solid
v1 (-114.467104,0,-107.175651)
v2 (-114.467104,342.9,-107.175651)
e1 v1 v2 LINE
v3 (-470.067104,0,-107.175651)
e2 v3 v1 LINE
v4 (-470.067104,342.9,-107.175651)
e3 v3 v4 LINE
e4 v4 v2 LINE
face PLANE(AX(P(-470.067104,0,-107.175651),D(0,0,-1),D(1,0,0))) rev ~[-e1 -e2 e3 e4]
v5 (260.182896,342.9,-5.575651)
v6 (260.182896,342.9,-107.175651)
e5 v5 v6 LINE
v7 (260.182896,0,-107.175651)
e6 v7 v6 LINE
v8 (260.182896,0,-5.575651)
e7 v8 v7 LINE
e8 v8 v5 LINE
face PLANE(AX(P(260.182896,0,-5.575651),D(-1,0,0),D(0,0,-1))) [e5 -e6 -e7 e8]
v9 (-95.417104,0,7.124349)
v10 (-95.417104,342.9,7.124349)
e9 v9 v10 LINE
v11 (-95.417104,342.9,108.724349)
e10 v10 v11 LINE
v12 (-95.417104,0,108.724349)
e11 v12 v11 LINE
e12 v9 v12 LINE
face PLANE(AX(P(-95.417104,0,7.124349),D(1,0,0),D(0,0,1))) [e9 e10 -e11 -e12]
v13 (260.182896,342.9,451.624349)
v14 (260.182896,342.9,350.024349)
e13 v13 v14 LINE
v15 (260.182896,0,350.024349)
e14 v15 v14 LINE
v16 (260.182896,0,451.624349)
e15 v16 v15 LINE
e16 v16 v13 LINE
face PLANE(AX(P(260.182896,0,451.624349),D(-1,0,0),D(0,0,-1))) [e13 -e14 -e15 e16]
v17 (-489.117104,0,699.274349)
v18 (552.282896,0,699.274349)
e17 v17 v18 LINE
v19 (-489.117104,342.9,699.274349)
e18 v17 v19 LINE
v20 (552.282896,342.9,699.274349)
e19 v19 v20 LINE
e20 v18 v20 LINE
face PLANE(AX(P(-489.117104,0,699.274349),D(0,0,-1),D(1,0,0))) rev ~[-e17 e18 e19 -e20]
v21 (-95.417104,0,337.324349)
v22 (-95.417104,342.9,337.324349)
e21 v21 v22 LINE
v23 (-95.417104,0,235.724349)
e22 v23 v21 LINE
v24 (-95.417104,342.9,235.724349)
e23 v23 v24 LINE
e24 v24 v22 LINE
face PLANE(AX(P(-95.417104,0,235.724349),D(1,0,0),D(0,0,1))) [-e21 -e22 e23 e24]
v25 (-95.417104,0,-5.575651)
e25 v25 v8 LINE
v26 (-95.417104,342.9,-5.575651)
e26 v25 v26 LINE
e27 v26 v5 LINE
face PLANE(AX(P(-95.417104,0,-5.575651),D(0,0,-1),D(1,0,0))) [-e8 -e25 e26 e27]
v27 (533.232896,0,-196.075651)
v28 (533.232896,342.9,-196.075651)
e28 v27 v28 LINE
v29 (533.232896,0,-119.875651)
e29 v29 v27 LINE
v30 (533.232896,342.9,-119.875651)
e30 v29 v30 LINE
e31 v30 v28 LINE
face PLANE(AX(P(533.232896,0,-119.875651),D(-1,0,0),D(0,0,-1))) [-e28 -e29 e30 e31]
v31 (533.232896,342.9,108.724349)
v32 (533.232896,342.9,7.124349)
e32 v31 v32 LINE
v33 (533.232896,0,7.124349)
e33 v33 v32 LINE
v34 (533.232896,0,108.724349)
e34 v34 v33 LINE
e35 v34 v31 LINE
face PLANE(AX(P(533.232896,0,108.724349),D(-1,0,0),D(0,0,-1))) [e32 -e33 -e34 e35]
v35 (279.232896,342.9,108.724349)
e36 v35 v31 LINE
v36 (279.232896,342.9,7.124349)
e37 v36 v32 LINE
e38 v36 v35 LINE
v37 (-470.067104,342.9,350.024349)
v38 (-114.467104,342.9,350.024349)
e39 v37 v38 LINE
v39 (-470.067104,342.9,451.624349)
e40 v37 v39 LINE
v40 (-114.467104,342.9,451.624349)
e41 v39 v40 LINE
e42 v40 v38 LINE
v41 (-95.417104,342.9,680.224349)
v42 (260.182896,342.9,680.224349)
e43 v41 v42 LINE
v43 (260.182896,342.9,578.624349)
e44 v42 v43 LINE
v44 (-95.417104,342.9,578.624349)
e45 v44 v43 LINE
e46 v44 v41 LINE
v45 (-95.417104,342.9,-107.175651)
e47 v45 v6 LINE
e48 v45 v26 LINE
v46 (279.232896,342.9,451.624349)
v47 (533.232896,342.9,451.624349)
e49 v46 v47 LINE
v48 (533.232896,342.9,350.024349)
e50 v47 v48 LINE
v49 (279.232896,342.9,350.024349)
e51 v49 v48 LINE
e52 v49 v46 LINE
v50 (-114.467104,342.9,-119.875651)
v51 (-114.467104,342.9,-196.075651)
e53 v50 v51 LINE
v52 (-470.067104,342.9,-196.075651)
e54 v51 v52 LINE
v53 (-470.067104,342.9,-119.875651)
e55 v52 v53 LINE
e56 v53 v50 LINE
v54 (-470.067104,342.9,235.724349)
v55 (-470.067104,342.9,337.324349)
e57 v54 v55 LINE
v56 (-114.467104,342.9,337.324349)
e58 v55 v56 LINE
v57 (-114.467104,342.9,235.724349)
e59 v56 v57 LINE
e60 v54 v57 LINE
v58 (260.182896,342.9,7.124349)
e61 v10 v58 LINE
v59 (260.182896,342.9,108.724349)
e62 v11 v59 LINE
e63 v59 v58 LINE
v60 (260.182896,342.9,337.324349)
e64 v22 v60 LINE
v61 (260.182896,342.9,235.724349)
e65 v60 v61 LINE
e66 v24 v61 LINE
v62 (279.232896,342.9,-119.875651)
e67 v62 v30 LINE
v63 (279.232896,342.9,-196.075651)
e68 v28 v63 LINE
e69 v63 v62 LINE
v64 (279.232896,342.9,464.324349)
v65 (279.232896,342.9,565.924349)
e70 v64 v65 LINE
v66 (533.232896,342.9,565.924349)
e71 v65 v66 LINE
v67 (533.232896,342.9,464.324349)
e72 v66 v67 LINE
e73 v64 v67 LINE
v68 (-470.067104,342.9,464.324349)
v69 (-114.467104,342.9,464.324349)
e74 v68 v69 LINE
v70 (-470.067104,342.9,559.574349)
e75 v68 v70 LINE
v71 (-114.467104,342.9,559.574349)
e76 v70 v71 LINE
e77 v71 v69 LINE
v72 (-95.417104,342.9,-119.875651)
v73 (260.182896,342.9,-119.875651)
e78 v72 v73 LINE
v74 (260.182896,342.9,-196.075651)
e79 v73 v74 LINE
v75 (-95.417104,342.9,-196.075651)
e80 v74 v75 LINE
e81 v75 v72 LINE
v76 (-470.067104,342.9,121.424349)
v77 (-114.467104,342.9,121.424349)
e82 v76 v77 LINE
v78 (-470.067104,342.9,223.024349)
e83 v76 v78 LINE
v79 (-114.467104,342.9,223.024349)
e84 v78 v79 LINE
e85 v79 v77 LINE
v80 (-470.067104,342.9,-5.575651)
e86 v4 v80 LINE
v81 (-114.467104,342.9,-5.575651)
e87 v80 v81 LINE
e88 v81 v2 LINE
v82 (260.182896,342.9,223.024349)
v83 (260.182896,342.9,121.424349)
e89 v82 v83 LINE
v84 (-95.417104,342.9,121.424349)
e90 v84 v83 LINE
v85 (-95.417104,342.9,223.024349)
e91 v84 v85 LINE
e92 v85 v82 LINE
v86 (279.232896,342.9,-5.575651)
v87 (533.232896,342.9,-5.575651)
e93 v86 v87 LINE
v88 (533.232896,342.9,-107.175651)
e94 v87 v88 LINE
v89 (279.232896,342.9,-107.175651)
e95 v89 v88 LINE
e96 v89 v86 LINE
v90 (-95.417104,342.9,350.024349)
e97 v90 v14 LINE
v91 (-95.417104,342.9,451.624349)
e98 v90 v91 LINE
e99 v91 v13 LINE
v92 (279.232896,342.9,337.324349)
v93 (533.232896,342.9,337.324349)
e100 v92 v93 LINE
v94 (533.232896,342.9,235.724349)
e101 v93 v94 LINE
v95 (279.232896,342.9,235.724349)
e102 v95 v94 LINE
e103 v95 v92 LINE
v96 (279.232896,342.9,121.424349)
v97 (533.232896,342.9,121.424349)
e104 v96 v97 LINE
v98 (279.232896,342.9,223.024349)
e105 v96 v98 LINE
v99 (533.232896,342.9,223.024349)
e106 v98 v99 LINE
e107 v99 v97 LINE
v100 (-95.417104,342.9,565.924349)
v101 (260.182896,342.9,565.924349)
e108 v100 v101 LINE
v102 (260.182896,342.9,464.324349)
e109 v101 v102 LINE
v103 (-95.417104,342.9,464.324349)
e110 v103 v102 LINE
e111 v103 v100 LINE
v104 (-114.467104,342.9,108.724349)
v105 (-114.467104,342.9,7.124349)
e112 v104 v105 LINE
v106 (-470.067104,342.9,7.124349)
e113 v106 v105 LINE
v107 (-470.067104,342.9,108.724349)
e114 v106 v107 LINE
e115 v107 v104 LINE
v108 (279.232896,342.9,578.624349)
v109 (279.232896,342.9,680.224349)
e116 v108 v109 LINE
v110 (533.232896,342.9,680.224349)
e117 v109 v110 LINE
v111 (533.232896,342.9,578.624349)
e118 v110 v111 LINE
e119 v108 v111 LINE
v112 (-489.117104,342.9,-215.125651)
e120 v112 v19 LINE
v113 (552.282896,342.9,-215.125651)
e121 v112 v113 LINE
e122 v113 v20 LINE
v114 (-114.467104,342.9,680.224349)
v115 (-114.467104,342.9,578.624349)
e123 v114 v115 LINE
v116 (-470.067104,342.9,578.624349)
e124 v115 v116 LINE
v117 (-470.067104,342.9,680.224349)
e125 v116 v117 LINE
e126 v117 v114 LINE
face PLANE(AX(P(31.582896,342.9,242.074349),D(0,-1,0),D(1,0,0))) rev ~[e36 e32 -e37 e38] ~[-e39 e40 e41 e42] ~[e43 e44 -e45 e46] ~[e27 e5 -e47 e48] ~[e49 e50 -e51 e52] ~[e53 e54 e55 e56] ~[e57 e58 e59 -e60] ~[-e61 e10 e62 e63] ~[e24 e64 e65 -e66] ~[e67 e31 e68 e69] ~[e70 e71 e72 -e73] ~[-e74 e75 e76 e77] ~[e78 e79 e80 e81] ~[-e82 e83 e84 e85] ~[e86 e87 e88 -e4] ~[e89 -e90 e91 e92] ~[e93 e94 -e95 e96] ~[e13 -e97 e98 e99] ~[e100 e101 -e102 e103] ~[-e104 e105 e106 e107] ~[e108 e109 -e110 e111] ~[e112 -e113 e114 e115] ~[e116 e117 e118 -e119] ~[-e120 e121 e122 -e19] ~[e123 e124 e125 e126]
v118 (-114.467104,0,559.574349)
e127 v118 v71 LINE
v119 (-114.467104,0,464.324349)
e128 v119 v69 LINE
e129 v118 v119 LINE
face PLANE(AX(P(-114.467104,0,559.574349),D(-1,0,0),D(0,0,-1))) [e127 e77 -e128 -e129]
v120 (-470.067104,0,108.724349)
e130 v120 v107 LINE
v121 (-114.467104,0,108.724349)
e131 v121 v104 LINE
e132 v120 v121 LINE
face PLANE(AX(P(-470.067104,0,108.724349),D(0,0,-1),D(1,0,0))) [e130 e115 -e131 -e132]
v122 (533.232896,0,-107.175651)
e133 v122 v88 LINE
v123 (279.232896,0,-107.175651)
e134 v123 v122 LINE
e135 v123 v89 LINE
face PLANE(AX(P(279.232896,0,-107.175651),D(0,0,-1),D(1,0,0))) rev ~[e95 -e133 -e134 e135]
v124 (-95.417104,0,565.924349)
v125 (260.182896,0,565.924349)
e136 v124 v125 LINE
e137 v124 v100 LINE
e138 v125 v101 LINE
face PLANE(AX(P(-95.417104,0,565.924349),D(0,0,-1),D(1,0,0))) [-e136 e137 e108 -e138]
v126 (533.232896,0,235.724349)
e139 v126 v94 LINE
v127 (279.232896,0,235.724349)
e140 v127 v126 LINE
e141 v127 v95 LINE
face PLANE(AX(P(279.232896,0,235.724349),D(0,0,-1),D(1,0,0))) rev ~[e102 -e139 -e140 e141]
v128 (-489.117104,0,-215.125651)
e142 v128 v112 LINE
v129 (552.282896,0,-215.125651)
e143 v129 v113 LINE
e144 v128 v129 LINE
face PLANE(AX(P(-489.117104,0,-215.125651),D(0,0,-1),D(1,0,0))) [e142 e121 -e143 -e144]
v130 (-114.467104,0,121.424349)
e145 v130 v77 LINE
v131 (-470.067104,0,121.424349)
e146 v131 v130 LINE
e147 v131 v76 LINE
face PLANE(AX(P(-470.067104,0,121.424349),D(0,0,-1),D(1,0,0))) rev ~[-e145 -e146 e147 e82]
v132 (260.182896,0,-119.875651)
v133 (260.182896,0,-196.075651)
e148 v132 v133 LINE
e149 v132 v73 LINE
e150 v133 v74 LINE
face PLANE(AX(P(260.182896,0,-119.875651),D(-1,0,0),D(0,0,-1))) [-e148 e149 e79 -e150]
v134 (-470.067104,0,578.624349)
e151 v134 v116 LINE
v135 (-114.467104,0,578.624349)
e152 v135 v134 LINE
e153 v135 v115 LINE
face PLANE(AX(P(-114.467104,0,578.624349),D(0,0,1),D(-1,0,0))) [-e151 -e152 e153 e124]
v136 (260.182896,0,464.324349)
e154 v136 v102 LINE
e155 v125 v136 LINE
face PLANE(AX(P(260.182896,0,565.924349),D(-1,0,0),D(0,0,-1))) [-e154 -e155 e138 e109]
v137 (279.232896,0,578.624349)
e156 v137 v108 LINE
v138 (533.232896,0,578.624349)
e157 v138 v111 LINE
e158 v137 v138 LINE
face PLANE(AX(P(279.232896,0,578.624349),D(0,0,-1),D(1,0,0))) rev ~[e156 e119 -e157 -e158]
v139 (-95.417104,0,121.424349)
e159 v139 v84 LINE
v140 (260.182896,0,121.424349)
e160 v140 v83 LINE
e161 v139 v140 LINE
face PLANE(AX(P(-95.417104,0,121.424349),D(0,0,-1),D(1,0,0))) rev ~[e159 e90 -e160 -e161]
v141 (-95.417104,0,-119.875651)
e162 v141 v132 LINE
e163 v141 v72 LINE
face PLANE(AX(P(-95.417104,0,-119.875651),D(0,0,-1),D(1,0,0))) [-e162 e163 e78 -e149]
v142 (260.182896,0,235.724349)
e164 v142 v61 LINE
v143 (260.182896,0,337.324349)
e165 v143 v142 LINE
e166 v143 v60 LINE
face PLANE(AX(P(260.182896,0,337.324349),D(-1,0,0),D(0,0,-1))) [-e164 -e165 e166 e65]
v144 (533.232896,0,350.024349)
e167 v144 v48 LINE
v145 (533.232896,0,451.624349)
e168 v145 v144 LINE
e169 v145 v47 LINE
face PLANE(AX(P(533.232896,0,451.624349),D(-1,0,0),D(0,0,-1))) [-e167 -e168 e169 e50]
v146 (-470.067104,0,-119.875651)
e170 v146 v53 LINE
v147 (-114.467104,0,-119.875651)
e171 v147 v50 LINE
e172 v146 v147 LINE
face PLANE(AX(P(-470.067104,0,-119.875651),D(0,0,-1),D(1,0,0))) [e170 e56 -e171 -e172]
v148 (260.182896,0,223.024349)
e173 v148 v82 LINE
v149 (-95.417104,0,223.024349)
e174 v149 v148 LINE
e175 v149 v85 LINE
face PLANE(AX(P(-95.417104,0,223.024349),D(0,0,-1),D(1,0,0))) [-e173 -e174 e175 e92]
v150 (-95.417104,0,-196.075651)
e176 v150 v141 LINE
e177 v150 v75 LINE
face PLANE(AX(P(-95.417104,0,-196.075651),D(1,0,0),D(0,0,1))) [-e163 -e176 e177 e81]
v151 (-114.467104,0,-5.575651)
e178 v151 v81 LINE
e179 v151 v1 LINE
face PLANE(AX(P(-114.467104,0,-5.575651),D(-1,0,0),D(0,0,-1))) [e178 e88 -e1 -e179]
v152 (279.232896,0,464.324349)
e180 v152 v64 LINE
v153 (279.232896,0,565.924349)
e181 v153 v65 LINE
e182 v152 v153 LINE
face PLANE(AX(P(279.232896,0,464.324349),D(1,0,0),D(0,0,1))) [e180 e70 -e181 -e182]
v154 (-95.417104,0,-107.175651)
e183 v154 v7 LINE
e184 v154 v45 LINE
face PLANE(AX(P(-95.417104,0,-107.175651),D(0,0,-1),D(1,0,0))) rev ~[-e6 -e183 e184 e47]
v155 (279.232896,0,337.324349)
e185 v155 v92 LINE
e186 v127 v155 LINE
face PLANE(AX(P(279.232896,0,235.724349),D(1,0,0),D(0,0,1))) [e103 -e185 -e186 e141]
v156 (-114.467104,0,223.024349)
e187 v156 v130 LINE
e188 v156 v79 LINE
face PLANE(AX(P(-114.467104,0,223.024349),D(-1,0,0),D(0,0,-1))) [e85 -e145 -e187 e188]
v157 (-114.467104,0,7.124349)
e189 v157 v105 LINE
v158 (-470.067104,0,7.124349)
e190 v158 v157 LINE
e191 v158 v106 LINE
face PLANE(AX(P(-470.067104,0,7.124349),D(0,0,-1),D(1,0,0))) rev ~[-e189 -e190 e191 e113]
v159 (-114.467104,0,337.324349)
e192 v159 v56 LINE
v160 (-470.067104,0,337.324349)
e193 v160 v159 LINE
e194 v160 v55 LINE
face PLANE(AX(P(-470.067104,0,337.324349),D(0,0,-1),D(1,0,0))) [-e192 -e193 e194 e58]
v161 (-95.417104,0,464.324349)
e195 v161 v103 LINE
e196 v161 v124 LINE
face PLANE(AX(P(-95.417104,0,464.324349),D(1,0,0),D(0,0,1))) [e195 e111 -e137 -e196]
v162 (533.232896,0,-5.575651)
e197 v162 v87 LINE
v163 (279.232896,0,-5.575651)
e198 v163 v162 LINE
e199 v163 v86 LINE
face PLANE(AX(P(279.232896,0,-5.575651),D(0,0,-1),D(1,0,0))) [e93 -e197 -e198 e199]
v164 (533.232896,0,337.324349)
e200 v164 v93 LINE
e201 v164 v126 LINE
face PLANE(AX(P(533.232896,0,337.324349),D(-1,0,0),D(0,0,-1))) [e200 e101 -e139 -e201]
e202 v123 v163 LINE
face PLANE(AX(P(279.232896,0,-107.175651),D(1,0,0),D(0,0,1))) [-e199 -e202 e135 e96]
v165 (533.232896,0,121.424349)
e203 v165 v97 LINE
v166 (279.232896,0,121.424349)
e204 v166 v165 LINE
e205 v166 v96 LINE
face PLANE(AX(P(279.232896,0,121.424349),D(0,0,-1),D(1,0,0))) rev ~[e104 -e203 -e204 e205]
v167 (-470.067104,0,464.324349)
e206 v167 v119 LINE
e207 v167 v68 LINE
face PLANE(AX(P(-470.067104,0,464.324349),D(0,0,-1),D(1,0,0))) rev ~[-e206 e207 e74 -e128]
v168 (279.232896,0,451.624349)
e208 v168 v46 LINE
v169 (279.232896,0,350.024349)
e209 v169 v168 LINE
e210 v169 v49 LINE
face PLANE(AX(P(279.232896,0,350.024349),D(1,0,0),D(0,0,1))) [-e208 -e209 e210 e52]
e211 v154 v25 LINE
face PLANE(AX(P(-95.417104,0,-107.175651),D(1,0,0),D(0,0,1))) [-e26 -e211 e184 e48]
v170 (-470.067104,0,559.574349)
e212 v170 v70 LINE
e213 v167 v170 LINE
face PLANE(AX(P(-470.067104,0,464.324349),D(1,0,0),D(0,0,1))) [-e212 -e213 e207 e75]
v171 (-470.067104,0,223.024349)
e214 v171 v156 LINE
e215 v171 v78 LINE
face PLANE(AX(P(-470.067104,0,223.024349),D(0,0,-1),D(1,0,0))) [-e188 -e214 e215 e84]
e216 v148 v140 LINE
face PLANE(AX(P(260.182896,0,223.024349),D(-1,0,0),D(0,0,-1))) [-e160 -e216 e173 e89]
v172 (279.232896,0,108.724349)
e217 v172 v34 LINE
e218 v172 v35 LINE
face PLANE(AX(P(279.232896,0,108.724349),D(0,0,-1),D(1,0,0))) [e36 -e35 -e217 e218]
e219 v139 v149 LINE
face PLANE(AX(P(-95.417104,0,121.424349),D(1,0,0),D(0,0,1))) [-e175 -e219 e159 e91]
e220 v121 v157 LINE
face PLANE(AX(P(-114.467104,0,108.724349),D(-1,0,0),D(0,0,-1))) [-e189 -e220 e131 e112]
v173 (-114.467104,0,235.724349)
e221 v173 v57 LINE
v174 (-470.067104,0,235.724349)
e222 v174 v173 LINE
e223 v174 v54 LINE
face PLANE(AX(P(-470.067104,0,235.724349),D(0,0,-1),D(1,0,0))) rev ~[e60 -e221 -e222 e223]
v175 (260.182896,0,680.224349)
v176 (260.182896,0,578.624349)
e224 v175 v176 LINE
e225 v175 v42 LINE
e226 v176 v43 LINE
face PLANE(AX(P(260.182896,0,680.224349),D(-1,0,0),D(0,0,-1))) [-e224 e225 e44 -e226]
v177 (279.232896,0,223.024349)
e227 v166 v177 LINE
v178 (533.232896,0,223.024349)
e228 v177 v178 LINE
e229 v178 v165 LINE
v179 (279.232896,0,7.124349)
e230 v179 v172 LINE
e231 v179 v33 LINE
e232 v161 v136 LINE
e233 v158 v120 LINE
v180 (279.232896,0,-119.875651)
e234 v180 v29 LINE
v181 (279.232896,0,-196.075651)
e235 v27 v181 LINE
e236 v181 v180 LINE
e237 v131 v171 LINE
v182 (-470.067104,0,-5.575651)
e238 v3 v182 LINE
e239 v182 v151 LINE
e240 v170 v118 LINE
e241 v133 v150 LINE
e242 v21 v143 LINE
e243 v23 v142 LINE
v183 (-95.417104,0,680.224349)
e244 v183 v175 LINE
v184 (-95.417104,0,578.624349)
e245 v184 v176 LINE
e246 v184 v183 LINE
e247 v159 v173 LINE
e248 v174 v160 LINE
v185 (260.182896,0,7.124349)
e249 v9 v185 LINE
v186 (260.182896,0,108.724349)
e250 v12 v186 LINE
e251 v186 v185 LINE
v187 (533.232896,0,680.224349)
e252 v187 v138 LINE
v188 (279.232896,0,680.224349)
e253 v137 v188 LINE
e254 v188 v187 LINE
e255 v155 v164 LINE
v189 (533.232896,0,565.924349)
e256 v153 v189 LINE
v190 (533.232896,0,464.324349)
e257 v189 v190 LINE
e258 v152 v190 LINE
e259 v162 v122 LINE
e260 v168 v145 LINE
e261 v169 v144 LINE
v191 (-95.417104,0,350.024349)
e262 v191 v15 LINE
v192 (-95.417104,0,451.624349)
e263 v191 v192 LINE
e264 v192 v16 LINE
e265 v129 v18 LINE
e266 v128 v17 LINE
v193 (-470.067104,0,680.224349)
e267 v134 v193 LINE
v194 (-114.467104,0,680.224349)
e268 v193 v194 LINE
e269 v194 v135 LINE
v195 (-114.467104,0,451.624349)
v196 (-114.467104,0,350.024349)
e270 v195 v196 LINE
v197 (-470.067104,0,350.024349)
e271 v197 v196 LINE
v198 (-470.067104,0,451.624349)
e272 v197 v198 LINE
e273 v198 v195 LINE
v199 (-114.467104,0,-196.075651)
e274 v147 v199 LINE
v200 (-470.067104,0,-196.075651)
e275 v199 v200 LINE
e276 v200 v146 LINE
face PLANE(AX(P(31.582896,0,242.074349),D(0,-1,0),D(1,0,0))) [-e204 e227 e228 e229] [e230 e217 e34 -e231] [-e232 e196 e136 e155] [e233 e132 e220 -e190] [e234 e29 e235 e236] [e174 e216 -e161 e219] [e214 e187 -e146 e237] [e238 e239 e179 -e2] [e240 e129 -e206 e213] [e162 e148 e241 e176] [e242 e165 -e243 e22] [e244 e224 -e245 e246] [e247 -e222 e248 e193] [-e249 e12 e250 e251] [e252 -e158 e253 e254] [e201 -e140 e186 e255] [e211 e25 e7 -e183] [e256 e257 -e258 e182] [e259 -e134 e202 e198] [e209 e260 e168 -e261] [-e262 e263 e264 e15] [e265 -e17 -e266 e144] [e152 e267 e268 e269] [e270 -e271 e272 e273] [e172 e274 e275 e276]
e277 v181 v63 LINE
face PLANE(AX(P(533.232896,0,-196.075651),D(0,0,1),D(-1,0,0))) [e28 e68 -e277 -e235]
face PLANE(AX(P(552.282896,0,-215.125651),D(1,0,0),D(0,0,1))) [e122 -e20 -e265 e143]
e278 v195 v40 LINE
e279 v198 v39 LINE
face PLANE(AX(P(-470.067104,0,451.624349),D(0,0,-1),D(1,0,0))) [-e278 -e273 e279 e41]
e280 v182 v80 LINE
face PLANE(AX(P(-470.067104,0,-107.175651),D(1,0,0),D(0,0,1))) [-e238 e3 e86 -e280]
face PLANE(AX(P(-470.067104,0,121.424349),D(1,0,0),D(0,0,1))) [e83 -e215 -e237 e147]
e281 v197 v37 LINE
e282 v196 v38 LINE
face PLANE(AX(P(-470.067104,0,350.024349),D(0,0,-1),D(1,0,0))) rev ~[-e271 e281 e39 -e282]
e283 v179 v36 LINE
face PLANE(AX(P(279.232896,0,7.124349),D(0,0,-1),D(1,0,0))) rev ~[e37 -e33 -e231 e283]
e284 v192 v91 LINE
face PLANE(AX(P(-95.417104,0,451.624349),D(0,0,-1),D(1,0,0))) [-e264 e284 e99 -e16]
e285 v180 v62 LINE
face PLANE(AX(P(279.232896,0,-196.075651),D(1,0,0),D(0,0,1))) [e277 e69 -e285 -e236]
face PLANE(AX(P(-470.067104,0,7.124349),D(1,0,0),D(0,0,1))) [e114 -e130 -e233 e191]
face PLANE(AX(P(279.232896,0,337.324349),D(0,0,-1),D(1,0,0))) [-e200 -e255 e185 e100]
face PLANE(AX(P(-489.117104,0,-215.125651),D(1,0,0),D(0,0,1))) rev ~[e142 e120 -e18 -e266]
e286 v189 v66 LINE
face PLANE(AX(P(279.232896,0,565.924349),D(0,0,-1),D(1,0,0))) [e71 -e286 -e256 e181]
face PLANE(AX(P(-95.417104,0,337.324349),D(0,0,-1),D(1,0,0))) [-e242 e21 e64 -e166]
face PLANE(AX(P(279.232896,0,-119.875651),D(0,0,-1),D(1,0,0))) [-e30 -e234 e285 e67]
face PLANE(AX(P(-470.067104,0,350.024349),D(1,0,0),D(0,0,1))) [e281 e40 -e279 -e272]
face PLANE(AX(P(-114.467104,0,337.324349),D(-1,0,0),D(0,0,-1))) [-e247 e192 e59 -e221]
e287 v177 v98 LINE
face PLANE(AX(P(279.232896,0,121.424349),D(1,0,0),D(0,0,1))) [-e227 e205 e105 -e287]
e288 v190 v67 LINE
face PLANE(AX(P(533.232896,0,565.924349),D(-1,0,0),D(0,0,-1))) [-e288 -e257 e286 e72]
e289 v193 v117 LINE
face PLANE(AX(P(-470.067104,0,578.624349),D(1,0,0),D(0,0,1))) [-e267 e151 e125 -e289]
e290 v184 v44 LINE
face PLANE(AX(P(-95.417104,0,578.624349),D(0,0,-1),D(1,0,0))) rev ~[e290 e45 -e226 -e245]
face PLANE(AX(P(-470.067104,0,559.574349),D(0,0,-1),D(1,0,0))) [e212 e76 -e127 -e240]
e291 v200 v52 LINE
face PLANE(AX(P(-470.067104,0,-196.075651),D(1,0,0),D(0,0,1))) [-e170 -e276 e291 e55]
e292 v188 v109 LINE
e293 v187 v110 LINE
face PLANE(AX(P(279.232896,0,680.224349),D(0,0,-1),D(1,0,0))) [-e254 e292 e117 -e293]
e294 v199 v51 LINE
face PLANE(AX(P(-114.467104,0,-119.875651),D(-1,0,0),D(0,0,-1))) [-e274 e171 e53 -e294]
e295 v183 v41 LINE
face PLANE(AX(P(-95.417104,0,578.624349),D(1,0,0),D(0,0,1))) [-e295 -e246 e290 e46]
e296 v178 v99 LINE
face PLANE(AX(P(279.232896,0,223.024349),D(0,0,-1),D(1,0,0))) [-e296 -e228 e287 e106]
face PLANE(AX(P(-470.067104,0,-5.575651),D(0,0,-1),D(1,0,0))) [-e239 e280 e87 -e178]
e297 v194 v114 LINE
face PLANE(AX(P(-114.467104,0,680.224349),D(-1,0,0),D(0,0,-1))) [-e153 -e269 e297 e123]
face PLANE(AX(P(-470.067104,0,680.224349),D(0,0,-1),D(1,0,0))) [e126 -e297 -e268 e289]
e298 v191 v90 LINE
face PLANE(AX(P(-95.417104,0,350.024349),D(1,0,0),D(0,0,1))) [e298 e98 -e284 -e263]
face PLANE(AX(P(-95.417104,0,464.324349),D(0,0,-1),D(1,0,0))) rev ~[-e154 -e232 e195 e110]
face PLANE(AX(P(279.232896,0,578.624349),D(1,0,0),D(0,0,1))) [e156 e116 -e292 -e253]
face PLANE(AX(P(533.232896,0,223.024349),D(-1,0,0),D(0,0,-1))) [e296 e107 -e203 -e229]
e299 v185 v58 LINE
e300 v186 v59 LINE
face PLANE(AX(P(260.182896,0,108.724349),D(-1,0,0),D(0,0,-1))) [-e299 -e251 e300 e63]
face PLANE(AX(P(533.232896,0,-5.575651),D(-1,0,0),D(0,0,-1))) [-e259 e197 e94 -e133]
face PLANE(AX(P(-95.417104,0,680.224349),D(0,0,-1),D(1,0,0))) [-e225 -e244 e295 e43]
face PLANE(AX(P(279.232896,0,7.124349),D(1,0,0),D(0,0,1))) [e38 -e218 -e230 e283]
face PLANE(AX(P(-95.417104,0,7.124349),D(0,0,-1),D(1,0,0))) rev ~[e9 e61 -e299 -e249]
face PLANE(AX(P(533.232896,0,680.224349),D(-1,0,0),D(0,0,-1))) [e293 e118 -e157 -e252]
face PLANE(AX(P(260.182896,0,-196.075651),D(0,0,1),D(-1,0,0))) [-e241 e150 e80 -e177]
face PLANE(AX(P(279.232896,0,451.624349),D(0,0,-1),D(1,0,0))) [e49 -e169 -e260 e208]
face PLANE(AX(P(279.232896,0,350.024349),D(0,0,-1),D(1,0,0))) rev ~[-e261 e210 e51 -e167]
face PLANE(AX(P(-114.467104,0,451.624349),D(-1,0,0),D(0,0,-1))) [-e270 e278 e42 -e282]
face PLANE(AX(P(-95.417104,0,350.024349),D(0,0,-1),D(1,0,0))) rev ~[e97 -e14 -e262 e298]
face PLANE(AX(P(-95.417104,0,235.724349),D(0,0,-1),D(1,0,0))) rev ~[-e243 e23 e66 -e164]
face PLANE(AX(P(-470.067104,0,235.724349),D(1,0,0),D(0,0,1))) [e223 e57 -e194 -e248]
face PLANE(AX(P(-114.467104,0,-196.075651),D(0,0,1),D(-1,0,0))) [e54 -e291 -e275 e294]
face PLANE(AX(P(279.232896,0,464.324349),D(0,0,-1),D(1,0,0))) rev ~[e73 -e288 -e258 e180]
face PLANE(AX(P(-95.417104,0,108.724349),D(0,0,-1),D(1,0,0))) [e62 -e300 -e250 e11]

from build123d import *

# Parameters (mm, degrees)
F0_W     = 1041.4
F0_H     = 914.4
F0_W_2   = 355.6
F0_H_2   = 12.7
F0_W_3   = 254
F1_DEPTH = 342.9


with BuildPart() as f1:
    # F0 (on Front) → F1 (new body)
    with BuildSketch(Plane.XZ):
        with Locations((31.582896, 242.074349)):
            Rectangle(F0_W, F0_H)
        Polygon((533.232896, -119.875651), (533.232896, -196.075651), (279.232896, -196.075651), (260.182896, -196.075651), (-95.417104, -196.075651), (-114.467104, -196.075651), (-470.067104, -196.075651), (-470.067104, -119.875651), (-470.067104, -107.175651), (-470.067104, -5.575651), (-470.067104, 7.124349), (-470.067104, 108.724349), (-470.067104, 121.424349), (-470.067104, 223.024349), (-470.067104, 235.724349), (-470.067104, 337.324349), (-470.067104, 350.024349), (-470.067104, 451.624349), (-470.067104, 464.324349), (-470.067104, 559.574349), (-470.067104, 565.924349), (-470.067104, 578.624349), (-470.067104, 680.224349), (-114.467104, 680.224349), (-95.417104, 680.224349), (260.182896, 680.224349), (279.232896, 680.224349), (533.232896, 680.224349), (533.232896, 578.624349), (533.232896, 565.924349), (533.232896, 464.324349), (533.232896, 451.624349), (533.232896, 350.024349), (533.232896, 337.324349), (533.232896, 235.724349), (533.232896, 223.024349), (533.232896, 121.424349), (533.232896, 108.724349), (533.232896, 7.124349), (533.232896, -5.575651), (533.232896, -107.175651), align=None, mode=Mode.SUBTRACT)
        Polygon((-470.067104, 559.574349), (-114.467104, 559.574349), (-114.467104, 565.924349), (-114.467104, 578.624349), (-470.067104, 578.624349), (-470.067104, 565.924349), align=None)
        Polygon((-114.467104, -196.075651), (-95.417104, -196.075651), (-95.417104, -119.875651), (-95.417104, -107.175651), (-95.417104, -5.575651), (-95.417104, 7.124349), (-95.417104, 108.724349), (-95.417104, 121.424349), (-95.417104, 223.024349), (-95.417104, 235.724349), (-95.417104, 337.324349), (-95.417104, 350.024349), (-95.417104, 451.624349), (-95.417104, 464.324349), (-95.417104, 565.924349), (-95.417104, 578.624349), (-95.417104, 680.224349), (-114.467104, 680.224349), (-114.467104, 578.624349), (-114.467104, 565.924349), (-114.467104, 559.574349), (-114.467104, 464.324349), (-114.467104, 451.624349), (-114.467104, 350.024349), (-114.467104, 337.324349), (-114.467104, 235.724349), (-114.467104, 223.024349), (-114.467104, 121.424349), (-114.467104, 108.724349), (-114.467104, 7.124349), (-114.467104, -5.575651), (-114.467104, -107.175651), (-114.467104, -119.875651), align=None)
        Polygon((260.182896, -196.075651), (279.232896, -196.075651), (279.232896, -119.875651), (279.232896, -107.175651), (279.232896, -5.575651), (279.232896, 7.124349), (279.232896, 108.724349), (279.232896, 121.424349), (279.232896, 223.024349), (279.232896, 235.724349), (279.232896, 337.324349), (279.232896, 350.024349), (279.232896, 451.624349), (279.232896, 464.324349), (279.232896, 565.924349), (279.232896, 578.624349), (279.232896, 680.224349), (260.182896, 680.224349), (260.182896, 578.624349), (260.182896, 565.924349), (260.182896, 464.324349), (260.182896, 451.624349), (260.182896, 350.024349), (260.182896, 337.324349), (260.182896, 235.724349), (260.182896, 223.024349), (260.182896, 121.424349), (260.182896, 108.724349), (260.182896, 7.124349), (260.182896, -5.575651), (260.182896, -107.175651), (260.182896, -119.875651), align=None)
        with Locations((82.382896, 572.274349)):
            Rectangle(F0_W_2, F0_H_2)
        with Locations((406.232896, 572.274349)):
            Rectangle(F0_W_3, F0_H_2)
        with Locations((406.232896, 457.974349)):
            Rectangle(F0_W_3, F0_H_2)
        with Locations((82.382896, 457.974349)):
            Rectangle(F0_W_2, F0_H_2)
        with Locations((-292.267104, 457.974349)):
            Rectangle(F0_W_2, F0_H_2)
        with Locations((-292.267104, 343.674349)):
            Rectangle(F0_W_2, F0_H_2)
        with Locations((-292.267104, 115.074349)):
            Rectangle(F0_W_2, F0_H_2)
        with Locations((-292.267104, 0.774349)):
            Rectangle(F0_W_2, F0_H_2)
        with Locations((-292.267104, -113.525651)):
            Rectangle(F0_W_2, F0_H_2)
        with Locations((82.382896, -113.525651)):
            Rectangle(F0_W_2, F0_H_2)
        with Locations((82.382896, 0.774349)):
            Rectangle(F0_W_2, F0_H_2)
        with Locations((82.382896, 115.074349)):
            Rectangle(F0_W_2, F0_H_2)
        with Locations((82.382896, 343.674349)):
            Rectangle(F0_W_2, F0_H_2)
        with Locations((82.382896, 229.374349)):
            Rectangle(F0_W_2, F0_H_2)
        with Locations((406.232896, 343.674349)):
            Rectangle(F0_W_3, F0_H_2)
        with Locations((406.232896, 229.374349)):
            Rectangle(F0_W_3, F0_H_2)
        with Locations((406.232896, 115.074349)):
            Rectangle(F0_W_3, F0_H_2)
        with Locations((406.232896, 0.774349)):
            Rectangle(F0_W_3, F0_H_2)
        with Locations((406.232896, -113.525651)):
            Rectangle(F0_W_3, F0_H_2)
        with Locations((-292.267104, 229.374349)):
            Rectangle(F0_W_2, F0_H_2)
    extrude(amount=-F1_DEPTH)


solid = f1.part
